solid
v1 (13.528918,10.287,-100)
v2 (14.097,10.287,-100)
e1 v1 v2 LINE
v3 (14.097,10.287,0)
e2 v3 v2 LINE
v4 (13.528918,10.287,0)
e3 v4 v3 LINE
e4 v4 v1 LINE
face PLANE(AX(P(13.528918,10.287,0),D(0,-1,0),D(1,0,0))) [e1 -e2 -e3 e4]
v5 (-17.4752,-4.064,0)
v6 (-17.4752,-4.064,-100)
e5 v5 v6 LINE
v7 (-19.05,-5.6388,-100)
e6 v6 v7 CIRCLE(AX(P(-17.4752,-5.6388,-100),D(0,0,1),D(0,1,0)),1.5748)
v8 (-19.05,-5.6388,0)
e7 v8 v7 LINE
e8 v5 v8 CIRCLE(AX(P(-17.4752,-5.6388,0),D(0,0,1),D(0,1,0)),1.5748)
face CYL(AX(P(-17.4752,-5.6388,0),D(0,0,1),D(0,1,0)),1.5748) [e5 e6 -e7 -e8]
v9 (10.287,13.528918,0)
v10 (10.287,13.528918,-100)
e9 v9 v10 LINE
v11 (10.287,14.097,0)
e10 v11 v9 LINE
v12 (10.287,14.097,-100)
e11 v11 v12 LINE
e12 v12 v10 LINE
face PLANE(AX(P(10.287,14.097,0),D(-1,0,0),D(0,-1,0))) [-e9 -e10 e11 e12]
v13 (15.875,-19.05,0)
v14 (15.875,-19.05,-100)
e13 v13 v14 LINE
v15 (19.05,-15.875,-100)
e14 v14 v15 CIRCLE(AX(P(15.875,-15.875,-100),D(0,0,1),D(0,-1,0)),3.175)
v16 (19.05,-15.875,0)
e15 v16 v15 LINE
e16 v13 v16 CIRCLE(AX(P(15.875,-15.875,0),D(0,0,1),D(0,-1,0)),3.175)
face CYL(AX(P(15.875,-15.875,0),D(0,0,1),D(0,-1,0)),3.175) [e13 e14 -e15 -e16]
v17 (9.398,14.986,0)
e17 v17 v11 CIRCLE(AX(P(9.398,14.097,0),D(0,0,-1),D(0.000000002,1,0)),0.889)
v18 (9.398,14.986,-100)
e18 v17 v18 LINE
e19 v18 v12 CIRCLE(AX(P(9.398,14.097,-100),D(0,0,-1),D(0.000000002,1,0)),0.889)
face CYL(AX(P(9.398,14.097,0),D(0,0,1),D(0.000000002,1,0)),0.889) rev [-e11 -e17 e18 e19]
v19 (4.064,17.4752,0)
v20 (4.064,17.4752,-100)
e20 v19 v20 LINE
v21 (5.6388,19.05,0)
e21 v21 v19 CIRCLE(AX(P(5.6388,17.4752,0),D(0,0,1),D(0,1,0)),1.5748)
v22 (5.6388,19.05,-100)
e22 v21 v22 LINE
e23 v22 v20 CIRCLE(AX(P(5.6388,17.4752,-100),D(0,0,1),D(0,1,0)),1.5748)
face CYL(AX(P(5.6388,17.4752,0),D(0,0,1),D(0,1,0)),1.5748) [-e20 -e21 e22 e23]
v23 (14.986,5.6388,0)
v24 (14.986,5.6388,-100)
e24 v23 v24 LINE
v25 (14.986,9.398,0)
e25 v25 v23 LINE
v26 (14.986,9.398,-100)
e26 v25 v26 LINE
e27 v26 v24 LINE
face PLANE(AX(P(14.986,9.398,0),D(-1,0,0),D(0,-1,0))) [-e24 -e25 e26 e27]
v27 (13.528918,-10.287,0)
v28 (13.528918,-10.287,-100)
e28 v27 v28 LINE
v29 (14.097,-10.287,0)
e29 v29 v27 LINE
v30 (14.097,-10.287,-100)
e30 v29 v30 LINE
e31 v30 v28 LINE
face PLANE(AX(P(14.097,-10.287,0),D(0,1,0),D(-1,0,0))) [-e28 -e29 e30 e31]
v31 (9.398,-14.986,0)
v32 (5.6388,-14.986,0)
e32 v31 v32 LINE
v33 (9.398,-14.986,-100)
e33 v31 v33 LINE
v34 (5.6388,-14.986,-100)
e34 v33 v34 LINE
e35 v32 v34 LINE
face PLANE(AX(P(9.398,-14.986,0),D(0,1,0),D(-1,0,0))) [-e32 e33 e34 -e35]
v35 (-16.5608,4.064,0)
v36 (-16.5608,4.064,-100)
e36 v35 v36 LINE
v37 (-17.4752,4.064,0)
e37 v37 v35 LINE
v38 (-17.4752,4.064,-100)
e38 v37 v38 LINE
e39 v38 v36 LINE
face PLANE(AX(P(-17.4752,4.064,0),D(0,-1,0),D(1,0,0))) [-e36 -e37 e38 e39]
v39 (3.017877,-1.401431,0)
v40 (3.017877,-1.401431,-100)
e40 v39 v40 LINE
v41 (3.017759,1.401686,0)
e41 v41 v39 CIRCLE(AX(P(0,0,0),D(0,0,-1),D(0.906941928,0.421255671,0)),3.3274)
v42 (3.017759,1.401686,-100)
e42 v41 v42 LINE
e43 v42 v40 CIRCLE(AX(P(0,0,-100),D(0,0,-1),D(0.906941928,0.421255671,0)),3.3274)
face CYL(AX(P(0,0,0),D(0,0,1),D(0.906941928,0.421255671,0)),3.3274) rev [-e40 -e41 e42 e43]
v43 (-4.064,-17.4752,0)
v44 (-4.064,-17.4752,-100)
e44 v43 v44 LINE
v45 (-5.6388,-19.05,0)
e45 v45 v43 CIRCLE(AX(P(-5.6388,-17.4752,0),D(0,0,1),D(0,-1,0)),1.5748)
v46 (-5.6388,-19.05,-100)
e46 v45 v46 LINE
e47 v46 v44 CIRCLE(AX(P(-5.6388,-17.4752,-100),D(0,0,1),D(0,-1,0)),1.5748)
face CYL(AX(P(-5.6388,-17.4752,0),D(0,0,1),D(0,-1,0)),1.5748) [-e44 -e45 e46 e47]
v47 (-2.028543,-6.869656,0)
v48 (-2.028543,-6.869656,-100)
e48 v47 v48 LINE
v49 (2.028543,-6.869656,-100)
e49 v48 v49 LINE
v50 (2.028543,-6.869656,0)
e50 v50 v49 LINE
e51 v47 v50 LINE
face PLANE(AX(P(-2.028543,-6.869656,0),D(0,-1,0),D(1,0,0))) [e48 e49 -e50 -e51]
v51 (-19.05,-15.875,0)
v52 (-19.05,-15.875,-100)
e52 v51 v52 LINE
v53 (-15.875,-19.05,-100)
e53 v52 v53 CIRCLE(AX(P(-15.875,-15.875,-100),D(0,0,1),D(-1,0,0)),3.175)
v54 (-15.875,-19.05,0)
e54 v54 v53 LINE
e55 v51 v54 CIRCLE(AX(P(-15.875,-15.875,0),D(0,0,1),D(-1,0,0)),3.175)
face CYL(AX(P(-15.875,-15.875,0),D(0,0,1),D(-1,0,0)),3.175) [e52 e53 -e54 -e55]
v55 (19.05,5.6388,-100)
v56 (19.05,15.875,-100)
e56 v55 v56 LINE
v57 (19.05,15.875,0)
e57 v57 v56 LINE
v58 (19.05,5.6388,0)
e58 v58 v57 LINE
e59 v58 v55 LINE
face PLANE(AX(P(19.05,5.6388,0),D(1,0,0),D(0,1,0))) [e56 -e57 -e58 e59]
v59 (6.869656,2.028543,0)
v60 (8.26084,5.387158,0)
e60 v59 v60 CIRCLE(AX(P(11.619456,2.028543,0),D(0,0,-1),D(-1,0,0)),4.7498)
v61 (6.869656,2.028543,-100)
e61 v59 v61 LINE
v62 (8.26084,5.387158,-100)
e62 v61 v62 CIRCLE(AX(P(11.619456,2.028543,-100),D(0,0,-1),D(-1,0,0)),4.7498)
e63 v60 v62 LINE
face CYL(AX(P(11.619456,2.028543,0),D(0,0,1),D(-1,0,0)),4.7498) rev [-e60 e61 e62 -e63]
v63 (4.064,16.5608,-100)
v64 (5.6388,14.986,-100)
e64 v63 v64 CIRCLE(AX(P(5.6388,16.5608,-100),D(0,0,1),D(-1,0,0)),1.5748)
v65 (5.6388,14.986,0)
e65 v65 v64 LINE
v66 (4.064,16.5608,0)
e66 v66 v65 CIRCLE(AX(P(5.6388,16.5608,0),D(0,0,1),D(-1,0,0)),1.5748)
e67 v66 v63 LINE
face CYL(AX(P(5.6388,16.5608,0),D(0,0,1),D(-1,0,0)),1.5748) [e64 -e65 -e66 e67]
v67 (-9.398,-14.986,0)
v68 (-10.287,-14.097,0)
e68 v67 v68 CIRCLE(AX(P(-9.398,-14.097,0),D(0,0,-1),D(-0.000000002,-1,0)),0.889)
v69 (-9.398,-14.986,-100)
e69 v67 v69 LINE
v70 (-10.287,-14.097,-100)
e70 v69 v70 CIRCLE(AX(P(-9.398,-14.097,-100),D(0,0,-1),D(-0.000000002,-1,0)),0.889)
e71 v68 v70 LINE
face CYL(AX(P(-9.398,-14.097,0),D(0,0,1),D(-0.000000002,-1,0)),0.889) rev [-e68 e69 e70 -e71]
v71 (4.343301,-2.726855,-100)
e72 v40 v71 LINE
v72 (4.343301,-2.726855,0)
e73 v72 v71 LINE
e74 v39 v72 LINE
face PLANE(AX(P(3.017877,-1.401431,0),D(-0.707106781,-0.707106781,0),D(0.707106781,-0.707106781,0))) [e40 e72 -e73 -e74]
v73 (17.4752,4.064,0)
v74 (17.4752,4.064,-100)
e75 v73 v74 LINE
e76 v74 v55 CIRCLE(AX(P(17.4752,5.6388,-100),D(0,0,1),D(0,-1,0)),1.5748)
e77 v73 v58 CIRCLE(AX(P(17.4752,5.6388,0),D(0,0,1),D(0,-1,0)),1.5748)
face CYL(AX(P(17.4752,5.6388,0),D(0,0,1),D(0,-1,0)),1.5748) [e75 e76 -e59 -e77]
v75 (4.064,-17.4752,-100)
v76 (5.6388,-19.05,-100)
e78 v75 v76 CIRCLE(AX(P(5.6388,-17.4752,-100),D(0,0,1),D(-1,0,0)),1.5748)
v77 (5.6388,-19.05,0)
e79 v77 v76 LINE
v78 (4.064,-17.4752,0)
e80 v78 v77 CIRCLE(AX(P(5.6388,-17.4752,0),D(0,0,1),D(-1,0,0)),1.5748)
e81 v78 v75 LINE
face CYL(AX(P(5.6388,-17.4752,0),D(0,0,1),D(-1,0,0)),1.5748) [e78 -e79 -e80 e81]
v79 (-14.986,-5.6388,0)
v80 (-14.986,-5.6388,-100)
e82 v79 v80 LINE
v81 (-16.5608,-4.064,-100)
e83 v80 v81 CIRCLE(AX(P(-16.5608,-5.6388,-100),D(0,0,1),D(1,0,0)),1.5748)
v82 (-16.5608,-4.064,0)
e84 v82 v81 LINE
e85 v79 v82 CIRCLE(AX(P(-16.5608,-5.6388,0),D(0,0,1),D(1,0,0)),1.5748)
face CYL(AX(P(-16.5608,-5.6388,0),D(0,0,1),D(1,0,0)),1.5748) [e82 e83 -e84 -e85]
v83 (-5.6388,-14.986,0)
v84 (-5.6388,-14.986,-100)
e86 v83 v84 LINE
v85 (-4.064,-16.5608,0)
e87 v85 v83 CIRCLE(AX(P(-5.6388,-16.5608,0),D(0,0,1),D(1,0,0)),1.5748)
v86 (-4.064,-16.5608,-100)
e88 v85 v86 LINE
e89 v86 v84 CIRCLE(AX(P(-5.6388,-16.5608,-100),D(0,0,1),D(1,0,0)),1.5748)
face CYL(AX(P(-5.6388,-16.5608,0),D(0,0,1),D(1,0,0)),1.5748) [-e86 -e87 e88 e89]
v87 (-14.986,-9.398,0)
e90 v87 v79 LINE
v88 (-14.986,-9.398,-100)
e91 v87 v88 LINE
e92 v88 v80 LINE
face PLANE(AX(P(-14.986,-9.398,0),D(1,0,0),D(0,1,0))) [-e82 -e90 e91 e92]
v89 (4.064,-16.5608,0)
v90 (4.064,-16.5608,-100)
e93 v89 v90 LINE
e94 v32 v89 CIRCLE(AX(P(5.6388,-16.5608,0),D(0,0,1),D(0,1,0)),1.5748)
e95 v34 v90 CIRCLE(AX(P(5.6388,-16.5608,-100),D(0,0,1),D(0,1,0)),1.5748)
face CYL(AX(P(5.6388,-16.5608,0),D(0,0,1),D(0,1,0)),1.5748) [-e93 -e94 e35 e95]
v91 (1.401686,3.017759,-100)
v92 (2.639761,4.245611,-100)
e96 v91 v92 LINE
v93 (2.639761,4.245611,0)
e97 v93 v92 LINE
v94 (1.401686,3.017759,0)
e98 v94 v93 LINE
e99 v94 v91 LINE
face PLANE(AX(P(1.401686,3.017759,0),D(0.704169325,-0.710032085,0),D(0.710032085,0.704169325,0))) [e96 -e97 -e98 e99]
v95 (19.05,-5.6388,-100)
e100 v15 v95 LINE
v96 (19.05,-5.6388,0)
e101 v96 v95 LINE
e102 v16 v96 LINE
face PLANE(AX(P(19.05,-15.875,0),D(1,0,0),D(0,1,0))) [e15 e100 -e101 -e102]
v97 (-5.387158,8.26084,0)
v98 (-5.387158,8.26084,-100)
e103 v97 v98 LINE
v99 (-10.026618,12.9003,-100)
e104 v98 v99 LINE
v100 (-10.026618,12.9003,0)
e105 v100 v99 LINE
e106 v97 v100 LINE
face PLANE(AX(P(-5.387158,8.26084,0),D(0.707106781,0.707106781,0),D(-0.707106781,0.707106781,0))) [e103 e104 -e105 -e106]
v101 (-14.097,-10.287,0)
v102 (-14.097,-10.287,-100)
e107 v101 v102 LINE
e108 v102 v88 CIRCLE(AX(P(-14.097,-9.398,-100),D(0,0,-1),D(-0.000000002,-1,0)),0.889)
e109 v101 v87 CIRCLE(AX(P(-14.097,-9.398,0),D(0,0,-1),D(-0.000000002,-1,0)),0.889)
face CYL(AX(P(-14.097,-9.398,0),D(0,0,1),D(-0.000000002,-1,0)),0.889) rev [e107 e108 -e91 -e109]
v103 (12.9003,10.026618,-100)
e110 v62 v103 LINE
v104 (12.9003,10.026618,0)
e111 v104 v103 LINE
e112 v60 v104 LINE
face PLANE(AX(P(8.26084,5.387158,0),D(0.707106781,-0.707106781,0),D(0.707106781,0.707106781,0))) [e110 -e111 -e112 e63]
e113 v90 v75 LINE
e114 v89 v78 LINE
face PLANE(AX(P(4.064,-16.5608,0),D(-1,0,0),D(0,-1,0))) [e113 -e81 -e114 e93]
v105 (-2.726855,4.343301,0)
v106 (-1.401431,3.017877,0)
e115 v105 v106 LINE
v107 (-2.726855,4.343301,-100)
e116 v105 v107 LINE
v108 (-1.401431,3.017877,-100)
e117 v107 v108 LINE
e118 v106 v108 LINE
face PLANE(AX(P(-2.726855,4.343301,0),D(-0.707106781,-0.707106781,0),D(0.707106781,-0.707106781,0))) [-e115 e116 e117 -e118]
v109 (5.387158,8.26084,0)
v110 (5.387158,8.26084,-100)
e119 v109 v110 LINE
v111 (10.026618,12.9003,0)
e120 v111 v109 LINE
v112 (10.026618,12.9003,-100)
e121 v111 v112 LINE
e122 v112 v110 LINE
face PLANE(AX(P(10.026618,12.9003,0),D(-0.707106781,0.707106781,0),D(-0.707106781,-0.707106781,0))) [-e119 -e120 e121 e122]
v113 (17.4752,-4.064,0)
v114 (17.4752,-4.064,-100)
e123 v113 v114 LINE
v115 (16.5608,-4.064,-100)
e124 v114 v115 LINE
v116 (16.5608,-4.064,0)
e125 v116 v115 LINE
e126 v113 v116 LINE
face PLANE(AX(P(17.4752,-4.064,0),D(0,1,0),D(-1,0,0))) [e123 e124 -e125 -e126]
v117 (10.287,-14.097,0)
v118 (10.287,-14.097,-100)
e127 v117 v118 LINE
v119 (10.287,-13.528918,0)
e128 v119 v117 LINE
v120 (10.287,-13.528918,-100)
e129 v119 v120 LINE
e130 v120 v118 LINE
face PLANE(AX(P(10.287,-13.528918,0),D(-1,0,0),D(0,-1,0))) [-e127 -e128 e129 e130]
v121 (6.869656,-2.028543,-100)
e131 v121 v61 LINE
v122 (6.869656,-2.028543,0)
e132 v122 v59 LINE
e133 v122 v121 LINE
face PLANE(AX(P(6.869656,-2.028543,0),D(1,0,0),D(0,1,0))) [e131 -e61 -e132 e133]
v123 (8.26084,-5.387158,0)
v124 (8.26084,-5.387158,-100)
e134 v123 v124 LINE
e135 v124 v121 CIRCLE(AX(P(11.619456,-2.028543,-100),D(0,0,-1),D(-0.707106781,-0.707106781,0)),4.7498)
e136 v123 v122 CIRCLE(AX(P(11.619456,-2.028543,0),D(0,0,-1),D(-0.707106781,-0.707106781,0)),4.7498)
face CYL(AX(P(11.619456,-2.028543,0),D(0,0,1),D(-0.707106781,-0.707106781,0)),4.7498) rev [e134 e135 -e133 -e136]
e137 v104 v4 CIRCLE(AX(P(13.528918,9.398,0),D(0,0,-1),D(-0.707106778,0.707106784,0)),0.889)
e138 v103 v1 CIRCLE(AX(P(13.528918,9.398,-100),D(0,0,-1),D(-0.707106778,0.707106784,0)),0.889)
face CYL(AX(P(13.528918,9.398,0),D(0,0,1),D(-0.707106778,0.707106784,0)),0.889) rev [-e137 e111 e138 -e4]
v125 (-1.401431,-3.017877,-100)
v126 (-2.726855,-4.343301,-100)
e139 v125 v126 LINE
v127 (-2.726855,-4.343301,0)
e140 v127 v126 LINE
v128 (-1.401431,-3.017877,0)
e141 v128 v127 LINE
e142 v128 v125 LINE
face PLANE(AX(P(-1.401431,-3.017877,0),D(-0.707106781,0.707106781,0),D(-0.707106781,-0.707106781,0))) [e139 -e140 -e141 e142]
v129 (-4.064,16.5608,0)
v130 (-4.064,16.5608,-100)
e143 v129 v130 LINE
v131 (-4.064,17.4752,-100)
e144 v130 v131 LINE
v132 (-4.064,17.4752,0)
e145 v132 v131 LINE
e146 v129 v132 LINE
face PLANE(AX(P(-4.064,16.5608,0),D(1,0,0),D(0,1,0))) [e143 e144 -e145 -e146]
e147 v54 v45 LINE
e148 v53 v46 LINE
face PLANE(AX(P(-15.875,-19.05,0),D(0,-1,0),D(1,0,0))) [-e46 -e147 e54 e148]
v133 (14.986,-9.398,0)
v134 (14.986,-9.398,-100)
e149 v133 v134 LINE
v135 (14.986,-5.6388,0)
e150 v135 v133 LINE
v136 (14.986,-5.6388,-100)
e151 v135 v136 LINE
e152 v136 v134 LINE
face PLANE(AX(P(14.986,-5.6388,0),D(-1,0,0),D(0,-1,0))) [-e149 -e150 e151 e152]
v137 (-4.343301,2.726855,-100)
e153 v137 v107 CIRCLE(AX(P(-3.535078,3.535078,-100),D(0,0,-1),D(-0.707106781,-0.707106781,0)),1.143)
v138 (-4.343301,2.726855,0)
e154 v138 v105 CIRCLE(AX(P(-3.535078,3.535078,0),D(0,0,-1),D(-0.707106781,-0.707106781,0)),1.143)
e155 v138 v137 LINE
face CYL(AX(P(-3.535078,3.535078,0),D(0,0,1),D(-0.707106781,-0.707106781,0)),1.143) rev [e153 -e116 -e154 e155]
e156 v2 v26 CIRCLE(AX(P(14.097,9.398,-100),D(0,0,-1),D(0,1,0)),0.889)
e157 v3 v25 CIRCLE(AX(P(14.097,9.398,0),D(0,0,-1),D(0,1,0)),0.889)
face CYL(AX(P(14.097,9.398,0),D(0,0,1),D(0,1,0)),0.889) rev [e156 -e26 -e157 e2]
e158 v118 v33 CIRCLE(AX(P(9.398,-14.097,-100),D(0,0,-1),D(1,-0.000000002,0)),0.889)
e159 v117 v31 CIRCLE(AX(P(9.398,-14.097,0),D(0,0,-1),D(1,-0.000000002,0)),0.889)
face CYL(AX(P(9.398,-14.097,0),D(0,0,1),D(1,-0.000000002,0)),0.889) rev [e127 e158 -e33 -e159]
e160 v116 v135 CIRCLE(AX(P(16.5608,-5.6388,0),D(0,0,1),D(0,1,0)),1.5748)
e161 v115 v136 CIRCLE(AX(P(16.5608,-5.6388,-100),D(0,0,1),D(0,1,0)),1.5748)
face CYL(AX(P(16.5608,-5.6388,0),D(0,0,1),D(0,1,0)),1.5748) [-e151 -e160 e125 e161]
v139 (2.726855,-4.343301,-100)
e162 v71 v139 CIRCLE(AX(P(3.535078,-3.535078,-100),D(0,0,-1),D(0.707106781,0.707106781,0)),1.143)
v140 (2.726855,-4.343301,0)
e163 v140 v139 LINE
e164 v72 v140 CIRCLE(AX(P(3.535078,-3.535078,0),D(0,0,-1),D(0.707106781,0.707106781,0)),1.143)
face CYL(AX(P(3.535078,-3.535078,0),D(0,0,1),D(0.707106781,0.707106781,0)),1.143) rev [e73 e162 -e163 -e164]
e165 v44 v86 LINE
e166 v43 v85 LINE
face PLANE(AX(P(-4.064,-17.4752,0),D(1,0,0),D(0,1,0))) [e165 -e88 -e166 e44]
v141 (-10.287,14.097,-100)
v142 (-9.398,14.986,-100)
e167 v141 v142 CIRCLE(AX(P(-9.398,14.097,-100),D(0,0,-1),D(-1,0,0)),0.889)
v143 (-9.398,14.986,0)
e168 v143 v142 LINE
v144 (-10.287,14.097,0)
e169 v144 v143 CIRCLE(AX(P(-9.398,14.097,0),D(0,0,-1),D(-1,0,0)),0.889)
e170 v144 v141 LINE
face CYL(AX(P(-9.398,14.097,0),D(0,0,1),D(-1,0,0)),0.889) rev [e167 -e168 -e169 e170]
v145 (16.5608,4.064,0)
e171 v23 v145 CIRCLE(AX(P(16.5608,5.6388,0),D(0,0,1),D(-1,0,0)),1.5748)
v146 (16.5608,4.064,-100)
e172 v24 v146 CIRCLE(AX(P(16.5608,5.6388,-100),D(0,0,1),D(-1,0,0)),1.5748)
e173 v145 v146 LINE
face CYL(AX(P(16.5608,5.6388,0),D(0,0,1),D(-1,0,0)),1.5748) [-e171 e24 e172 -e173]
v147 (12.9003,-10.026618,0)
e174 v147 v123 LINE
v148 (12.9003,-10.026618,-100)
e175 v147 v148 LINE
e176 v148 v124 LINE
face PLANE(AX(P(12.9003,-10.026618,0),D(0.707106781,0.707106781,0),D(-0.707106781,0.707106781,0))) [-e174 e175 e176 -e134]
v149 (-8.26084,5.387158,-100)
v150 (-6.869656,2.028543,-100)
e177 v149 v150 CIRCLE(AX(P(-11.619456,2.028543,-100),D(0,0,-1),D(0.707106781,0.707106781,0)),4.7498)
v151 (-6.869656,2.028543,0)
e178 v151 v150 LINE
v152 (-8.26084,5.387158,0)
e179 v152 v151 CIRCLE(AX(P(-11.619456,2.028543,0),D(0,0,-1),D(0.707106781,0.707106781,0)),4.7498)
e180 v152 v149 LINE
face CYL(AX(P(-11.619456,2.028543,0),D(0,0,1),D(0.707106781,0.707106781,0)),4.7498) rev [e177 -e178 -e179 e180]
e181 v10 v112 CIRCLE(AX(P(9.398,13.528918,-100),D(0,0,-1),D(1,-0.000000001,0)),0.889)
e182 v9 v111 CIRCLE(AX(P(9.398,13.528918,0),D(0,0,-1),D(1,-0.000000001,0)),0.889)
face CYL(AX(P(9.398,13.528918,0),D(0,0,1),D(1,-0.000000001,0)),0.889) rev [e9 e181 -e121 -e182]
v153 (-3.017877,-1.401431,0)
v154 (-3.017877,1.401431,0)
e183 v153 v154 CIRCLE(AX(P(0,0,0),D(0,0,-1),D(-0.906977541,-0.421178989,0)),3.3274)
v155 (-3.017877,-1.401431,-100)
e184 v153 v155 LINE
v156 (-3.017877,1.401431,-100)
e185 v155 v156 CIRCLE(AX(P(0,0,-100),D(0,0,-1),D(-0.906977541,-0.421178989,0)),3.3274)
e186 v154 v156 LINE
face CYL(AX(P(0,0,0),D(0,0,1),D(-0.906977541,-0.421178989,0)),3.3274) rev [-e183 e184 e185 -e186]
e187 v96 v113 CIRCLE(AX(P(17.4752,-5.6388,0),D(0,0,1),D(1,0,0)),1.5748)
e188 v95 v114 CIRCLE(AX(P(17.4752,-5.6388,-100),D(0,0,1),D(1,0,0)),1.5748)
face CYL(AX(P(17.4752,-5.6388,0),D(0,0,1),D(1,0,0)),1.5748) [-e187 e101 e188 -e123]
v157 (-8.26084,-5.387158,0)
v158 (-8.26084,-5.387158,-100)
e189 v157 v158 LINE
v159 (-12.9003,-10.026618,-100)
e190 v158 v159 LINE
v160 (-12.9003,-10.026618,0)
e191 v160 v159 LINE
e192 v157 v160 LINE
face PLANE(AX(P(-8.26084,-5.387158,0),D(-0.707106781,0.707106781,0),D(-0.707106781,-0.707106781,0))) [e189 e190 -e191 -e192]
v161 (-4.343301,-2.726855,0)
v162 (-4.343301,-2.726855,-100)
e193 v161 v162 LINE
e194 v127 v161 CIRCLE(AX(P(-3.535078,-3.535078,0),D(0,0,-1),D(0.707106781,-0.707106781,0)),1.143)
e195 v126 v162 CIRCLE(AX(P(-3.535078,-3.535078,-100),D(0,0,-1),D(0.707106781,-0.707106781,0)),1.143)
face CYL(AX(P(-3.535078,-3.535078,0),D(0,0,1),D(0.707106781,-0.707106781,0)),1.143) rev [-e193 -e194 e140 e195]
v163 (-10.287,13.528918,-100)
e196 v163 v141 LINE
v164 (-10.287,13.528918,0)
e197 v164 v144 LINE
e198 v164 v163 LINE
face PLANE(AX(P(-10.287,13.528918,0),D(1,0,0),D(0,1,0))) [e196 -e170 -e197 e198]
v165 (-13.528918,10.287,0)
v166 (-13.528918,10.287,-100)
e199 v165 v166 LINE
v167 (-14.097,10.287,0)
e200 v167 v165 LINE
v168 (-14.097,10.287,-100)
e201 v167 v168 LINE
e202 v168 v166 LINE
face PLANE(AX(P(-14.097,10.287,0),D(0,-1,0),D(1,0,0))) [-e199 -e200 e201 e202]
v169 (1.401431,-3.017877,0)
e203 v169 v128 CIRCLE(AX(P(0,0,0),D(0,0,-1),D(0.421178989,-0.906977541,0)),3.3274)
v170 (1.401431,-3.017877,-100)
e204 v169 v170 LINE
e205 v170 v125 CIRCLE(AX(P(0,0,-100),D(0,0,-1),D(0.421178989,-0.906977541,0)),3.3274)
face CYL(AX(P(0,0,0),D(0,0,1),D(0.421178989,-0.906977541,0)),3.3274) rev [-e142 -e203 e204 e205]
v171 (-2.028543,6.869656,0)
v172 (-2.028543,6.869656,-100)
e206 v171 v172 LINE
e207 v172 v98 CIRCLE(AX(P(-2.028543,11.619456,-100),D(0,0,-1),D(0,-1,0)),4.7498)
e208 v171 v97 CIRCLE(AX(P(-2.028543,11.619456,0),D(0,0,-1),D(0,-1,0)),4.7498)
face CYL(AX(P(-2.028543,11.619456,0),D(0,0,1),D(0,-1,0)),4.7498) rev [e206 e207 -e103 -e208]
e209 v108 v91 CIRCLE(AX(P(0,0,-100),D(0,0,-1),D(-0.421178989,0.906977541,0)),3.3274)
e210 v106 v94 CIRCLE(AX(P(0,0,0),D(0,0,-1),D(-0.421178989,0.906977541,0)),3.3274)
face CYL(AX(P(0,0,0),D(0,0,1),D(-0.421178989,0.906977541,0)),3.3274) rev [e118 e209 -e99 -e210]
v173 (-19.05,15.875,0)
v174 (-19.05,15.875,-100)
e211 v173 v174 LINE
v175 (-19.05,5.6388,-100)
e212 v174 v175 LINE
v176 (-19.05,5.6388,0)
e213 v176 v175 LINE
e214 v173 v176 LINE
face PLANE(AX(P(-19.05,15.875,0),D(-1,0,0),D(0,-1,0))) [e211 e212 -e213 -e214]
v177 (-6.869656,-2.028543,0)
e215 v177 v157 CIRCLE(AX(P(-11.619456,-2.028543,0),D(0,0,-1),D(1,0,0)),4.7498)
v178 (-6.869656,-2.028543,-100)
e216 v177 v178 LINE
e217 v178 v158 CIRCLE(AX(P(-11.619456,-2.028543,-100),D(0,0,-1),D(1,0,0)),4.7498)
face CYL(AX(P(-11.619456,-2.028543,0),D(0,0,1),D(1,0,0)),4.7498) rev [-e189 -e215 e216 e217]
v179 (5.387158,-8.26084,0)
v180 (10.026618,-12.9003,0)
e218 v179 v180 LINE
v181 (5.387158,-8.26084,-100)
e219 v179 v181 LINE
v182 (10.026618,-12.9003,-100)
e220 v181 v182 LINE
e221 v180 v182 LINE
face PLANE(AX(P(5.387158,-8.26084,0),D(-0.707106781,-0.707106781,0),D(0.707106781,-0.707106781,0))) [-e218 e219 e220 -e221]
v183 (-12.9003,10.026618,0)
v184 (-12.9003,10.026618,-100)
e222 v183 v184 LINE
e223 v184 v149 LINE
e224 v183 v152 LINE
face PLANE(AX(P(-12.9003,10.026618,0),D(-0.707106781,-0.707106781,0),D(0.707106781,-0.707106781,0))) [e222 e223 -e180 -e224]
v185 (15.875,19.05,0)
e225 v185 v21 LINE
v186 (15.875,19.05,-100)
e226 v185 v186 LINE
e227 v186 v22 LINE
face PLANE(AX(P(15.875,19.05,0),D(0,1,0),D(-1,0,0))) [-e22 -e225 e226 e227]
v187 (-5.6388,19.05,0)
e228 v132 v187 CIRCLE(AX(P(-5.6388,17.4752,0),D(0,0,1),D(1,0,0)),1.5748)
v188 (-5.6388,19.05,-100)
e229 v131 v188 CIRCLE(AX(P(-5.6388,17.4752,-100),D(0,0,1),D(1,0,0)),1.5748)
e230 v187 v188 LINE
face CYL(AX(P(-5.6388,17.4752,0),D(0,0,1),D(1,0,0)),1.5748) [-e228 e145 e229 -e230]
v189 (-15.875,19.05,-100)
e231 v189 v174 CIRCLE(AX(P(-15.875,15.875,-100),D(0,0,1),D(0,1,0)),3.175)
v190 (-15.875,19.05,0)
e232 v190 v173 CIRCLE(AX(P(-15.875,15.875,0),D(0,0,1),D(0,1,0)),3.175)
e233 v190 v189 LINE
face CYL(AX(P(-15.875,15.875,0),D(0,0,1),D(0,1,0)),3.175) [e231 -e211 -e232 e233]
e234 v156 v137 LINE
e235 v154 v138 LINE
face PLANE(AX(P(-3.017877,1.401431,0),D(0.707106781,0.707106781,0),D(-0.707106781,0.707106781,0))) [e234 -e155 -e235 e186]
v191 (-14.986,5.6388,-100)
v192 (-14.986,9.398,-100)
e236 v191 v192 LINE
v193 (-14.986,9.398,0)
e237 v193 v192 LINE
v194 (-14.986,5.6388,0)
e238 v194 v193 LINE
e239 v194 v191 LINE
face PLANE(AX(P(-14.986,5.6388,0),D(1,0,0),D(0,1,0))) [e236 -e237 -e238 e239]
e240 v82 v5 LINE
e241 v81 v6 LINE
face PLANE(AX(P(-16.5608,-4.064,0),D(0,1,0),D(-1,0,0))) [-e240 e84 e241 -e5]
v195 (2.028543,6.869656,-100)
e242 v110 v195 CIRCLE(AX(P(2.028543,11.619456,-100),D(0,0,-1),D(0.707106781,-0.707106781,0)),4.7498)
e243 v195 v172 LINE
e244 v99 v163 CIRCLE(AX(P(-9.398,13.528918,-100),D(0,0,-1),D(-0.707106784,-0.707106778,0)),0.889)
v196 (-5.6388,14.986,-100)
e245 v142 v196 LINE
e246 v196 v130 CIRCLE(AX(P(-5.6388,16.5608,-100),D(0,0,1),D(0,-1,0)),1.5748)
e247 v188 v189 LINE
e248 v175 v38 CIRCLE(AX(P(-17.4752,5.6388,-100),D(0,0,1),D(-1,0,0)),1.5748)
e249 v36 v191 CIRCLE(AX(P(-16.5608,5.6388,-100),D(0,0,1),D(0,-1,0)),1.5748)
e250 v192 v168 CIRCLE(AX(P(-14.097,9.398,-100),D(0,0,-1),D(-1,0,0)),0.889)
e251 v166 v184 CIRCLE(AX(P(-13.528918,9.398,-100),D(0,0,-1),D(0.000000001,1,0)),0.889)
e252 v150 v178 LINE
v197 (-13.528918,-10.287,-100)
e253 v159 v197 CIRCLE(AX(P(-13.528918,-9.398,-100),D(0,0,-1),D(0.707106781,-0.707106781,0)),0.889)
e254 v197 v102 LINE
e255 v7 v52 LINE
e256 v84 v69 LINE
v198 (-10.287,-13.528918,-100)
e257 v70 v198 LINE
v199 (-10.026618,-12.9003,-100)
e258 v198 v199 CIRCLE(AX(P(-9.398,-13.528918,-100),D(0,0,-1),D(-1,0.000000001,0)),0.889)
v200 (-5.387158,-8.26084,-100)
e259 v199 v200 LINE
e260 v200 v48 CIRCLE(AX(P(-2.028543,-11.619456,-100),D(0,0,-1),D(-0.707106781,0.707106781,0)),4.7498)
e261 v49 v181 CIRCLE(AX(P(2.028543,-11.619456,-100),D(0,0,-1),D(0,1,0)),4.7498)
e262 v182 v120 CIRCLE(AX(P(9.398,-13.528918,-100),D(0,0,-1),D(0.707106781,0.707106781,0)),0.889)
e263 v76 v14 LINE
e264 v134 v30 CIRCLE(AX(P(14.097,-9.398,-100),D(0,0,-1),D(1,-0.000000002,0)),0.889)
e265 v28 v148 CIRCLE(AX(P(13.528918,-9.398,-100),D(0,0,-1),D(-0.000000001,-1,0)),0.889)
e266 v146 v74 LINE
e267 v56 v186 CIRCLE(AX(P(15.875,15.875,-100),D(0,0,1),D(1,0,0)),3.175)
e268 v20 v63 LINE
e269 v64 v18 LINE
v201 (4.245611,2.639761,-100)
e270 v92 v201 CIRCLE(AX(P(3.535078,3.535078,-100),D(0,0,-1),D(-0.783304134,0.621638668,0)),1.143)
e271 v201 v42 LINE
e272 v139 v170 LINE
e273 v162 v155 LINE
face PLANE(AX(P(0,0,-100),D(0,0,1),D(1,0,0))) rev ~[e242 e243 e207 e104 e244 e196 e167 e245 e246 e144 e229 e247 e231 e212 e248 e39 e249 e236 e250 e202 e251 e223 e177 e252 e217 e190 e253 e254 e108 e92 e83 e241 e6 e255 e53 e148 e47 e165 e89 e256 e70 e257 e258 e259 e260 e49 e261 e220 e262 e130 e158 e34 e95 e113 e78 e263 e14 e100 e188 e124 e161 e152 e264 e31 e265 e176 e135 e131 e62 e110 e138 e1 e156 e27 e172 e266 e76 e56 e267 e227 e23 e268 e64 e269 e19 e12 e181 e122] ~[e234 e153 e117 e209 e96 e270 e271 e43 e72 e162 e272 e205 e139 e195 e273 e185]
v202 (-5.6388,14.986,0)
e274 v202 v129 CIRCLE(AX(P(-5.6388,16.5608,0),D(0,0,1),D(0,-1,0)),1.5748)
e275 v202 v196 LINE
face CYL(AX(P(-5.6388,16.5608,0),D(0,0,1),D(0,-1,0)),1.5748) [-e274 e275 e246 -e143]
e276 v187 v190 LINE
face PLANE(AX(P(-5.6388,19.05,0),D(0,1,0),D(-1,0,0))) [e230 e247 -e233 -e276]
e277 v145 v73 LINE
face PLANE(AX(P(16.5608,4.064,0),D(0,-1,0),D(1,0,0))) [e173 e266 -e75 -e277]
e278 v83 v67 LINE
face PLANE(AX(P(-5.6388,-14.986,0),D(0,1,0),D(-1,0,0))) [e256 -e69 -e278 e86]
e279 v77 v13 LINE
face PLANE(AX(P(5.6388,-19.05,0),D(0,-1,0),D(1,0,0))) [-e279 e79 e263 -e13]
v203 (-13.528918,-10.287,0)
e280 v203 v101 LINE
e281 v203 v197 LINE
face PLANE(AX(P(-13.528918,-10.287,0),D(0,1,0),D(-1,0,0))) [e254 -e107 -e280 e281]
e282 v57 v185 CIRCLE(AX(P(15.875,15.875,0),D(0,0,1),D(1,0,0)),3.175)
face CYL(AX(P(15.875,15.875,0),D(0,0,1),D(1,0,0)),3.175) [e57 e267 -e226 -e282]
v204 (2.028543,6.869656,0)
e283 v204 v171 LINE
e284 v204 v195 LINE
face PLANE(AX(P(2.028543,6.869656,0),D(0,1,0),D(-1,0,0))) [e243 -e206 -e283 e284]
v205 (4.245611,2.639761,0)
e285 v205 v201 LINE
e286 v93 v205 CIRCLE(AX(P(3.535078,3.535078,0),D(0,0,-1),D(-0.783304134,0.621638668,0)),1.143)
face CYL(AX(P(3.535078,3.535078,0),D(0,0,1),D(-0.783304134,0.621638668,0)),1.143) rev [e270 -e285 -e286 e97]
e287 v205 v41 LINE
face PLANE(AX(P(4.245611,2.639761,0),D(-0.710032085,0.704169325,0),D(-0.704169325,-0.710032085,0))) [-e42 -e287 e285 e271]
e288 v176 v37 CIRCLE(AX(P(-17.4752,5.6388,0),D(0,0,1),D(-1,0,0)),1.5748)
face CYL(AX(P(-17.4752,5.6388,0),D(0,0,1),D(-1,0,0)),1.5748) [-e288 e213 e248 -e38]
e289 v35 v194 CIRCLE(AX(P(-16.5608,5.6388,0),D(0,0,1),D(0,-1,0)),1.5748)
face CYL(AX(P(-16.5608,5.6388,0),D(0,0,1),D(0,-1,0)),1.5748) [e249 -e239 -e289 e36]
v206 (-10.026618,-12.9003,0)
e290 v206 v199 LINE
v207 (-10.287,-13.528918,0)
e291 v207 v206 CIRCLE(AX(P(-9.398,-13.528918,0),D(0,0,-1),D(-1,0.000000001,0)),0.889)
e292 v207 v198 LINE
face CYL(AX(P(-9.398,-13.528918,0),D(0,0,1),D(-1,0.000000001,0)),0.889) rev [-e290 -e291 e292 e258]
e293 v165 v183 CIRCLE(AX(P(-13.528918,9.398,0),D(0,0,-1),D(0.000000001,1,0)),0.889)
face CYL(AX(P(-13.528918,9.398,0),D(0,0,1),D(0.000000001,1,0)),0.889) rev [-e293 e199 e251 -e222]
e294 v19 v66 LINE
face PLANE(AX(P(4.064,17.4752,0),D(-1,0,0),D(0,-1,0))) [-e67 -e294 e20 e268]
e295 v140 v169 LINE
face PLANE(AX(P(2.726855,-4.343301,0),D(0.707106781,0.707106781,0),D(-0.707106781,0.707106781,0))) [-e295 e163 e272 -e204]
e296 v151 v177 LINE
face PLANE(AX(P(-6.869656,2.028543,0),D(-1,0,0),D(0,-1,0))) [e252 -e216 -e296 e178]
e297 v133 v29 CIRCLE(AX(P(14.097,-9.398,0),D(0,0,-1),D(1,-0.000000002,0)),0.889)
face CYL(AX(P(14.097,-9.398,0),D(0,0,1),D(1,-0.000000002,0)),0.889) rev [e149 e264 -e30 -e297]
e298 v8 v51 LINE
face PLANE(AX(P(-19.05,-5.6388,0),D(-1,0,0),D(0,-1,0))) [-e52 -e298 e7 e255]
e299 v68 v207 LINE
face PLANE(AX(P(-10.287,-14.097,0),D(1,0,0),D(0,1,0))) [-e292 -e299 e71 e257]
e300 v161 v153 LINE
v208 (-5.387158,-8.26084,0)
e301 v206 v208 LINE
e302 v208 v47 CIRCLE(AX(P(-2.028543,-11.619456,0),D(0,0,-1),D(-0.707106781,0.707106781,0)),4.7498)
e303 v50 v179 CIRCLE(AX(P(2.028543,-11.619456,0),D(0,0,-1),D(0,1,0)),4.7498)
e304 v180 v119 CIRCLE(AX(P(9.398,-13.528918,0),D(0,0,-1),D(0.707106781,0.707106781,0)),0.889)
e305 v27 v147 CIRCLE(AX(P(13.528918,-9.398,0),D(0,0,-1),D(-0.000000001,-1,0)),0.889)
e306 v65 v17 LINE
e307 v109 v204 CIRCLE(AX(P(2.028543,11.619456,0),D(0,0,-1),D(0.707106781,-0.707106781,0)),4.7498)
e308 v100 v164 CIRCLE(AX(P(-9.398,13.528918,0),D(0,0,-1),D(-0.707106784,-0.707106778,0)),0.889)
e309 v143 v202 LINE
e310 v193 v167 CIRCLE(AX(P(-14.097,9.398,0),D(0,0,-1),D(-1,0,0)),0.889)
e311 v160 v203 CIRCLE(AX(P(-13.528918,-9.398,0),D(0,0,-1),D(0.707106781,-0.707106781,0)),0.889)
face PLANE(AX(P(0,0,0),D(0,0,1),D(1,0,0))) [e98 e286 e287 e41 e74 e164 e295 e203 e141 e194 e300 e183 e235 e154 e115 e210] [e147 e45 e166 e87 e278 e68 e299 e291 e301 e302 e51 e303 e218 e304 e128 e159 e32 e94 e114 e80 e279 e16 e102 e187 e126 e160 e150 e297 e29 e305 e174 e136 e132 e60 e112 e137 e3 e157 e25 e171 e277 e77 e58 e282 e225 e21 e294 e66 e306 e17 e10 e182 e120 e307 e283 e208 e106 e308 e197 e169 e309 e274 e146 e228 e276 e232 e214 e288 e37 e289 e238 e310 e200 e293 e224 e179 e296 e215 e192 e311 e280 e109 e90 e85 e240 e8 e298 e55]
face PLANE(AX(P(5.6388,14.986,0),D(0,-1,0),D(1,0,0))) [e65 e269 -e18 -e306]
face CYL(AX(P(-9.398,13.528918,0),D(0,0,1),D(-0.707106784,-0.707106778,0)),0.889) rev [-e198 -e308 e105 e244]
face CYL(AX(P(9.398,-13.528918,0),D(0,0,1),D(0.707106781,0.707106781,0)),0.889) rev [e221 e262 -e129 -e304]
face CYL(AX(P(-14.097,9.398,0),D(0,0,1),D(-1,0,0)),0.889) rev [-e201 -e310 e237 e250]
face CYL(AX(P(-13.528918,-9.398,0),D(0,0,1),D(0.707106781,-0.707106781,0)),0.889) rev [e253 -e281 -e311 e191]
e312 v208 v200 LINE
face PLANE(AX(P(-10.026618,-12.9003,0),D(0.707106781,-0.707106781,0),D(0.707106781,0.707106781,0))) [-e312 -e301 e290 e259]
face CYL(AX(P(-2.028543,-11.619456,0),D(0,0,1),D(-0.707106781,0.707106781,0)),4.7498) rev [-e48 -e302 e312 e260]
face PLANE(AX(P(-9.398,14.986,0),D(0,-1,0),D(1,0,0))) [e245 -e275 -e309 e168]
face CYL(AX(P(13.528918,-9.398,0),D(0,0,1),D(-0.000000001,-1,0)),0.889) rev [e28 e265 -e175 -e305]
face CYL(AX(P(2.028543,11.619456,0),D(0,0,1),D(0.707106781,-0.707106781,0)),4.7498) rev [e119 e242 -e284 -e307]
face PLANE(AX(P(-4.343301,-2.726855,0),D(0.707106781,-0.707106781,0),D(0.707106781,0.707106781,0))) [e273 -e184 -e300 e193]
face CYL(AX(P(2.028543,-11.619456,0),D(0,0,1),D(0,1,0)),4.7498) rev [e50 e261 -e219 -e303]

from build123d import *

# Parameters (mm, degrees)
EXTRUDE1_DEPTH = 100


with BuildPart() as part:
    # Sketch1 → Extrude1 (new body)
    with BuildSketch(Plane.XY):
        with BuildLine():
            Line((14.986, -5.6388), (14.986, -9.398))
            ThreePointArc((14.986, -9.398), (14.725617928, -10.026617928), (14.097, -10.287))
            Line((14.097, -10.287), (13.528917816, -10.287))
            ThreePointArc((13.528917816, -10.287), (13.188712244, -10.219328904), (12.900299887, -10.026617928))
            Line((12.900299887, -10.026617928), (8.260840349, -5.38715839))
            ThreePointArc((8.260840349, -5.38715839), (7.231213135, -3.846212368), (6.869656138, -2.028542601))
            Line((6.869656138, -2.028542601), (6.869656138, 2.028542601))
            ThreePointArc((6.869656138, 2.028542601), (7.231213135, 3.846212368), (8.260840349, 5.38715839))
            Line((8.260840349, 5.38715839), (12.900299887, 10.026617929))
            ThreePointArc((12.900299887, 10.026617929), (13.188712244, 10.219328904), (13.528917816, 10.287))
            Line((13.528917816, 10.287), (14.097, 10.287))
            ThreePointArc((14.097, 10.287), (14.725617928, 10.026617929), (14.986, 9.398))
            Line((14.986, 9.398), (14.986, 5.6388))
            ThreePointArc((14.986, 5.6388), (15.447248241, 4.525248241), (16.5608, 4.064))
            Line((16.5608, 4.064), (17.4752, 4.064))
            ThreePointArc((17.4752, 4.064), (18.588751759, 4.525248241), (19.05, 5.6388))
            Line((19.05, 5.6388), (19.05, 15.875))
            ThreePointArc((19.05, 15.875), (18.12006403, 18.12006403), (15.875, 19.05))
            Line((15.875, 19.05), (5.6388, 19.05))
            ThreePointArc((5.6388, 19.05), (4.525248241, 18.588751759), (4.064, 17.4752))
            Line((4.064, 17.4752), (4.064, 16.5608))
            ThreePointArc((4.064, 16.5608), (4.525248241, 15.447248241), (5.6388, 14.986))
            Line((5.6388, 14.986), (9.398, 14.986))
            ThreePointArc((9.398, 14.986), (10.026617928, 14.725617928), (10.287, 14.097))
            Line((10.287, 14.097), (10.287, 13.528917816))
            ThreePointArc((10.287, 13.528917816), (10.219328904, 13.188712244), (10.026617928, 12.900299887))
            Line((10.026617928, 12.900299887), (5.38715839, 8.260840349))
            ThreePointArc((5.38715839, 8.260840349), (3.846212368, 7.231213135), (2.028542601, 6.869656138))
            Line((2.028542601, 6.869656138), (-2.028542601, 6.869656138))
            ThreePointArc((-2.028542601, 6.869656138), (-3.846212368, 7.231213135), (-5.38715839, 8.260840349))
            Line((-5.38715839, 8.260840349), (-10.026617929, 12.900299887))
            ThreePointArc((-10.026617929, 12.900299887), (-10.219328904, 13.188712244), (-10.287, 13.528917816))
            Line((-10.287, 13.528917816), (-10.287, 14.097))
            ThreePointArc((-10.287, 14.097), (-10.026617929, 14.725617928), (-9.398, 14.986))
            Line((-9.398, 14.986), (-5.6388, 14.986))
            ThreePointArc((-5.6388, 14.986), (-4.525248241, 15.447248241), (-4.064, 16.5608))
            Line((-4.064, 16.5608), (-4.064, 17.4752))
            ThreePointArc((-4.064, 17.4752), (-4.525248241, 18.588751759), (-5.6388, 19.05))
            Line((-5.6388, 19.05), (-15.875, 19.05))
            ThreePointArc((-15.875, 19.05), (-18.12006403, 18.12006403), (-19.05, 15.875))
            Line((-19.05, 15.875), (-19.05, 5.6388))
            ThreePointArc((-19.05, 5.6388), (-18.588751759, 4.525248241), (-17.4752, 4.064))
            Line((-17.4752, 4.064), (-16.5608, 4.064))
            ThreePointArc((-16.5608, 4.064), (-15.447248241, 4.525248241), (-14.986, 5.6388))
            Line((-14.986, 5.6388), (-14.986, 9.398))
            ThreePointArc((-14.986, 9.398), (-14.725617929, 10.026617928), (-14.097, 10.287))
            Line((-14.097, 10.287), (-13.528917816, 10.287))
            ThreePointArc((-13.528917816, 10.287), (-13.188712244, 10.219328904), (-12.900299887, 10.026617928))
            Line((-12.900299887, 10.026617928), (-8.260840349, 5.38715839))
            ThreePointArc((-8.260840349, 5.38715839), (-7.231213135, 3.846212368), (-6.869656138, 2.028542601))
            Line((-6.869656138, 2.028542601), (-6.869656138, -2.028542601))
            ThreePointArc((-6.869656138, -2.028542601), (-7.231213135, -3.846212368), (-8.260840349, -5.38715839))
            Line((-8.260840349, -5.38715839), (-12.900299887, -10.026617928))
            ThreePointArc((-12.900299887, -10.026617928), (-13.188712244, -10.219328904), (-13.528917816, -10.287))
            Line((-13.528917816, -10.287), (-14.097, -10.287))
            ThreePointArc((-14.097, -10.287), (-14.725617928, -10.026617928), (-14.986, -9.398))
            Line((-14.986, -9.398), (-14.986, -5.6388))
            ThreePointArc((-14.986, -5.6388), (-15.447248241, -4.525248241), (-16.5608, -4.064))
            Line((-16.5608, -4.064), (-17.4752, -4.064))
            ThreePointArc((-17.4752, -4.064), (-18.588751759, -4.525248241), (-19.05, -5.6388))
            Line((-19.05, -5.6388), (-19.05, -15.875))
            ThreePointArc((-19.05, -15.875), (-18.12006403, -18.12006403), (-15.875, -19.05))
            Line((-15.875, -19.05), (-5.6388, -19.05))
            ThreePointArc((-5.6388, -19.05), (-4.525248241, -18.588751759), (-4.064, -17.4752))
            Line((-4.064, -17.4752), (-4.064, -16.5608))
            ThreePointArc((-4.064, -16.5608), (-4.525248241, -15.447248241), (-5.6388, -14.986))
            Line((-5.6388, -14.986), (-9.398, -14.986))
            ThreePointArc((-9.398, -14.986), (-10.026617928, -14.725617928), (-10.287, -14.097))
            Line((-10.287, -14.097), (-10.287, -13.528917816))
            ThreePointArc((-10.287, -13.528917816), (-10.219328904, -13.188712244), (-10.026617928, -12.900299887))
            Line((-10.026617928, -12.900299887), (-5.38715839, -8.260840349))
            ThreePointArc((-5.38715839, -8.260840349), (-3.846212368, -7.231213135), (-2.028542601, -6.869656138))
            Line((-2.028542601, -6.869656138), (2.028542601, -6.869656138))
            ThreePointArc((2.028542601, -6.869656138), (3.846212368, -7.231213135), (5.38715839, -8.260840349))
            Line((5.38715839, -8.260840349), (10.026617928, -12.900299887))
            ThreePointArc((10.026617928, -12.900299887), (10.219328904, -13.188712244), (10.287, -13.528917816))
            Line((10.287, -13.528917816), (10.287, -14.097))
            ThreePointArc((10.287, -14.097), (10.026617928, -14.725617928), (9.398, -14.986))
            Line((9.398, -14.986), (5.6388, -14.986))
            ThreePointArc((5.6388, -14.986), (4.525248241, -15.447248241), (4.064, -16.5608))
            Line((4.064, -16.5608), (4.064, -17.4752))
            ThreePointArc((4.064, -17.4752), (4.525248241, -18.588751759), (5.6388, -19.05))
            Line((5.6388, -19.05), (15.875, -19.05))
            ThreePointArc((15.875, -19.05), (18.12006403, -18.12006403), (19.05, -15.875))
            Line((19.05, -15.875), (19.05, -5.6388))
            ThreePointArc((19.05, -5.6388), (18.588751759, -4.525248241), (17.4752, -4.064))
            Line((17.4752, -4.064), (16.5608, -4.064))
            ThreePointArc((16.5608, -4.064), (15.447248241, -4.525248241), (14.986, -5.6388))
        make_face()
        with BuildLine():
            Line((4.24561082, 2.639761197), (3.01775857, 1.401686117))
            ThreePointArc((3.01775857, 1.401686117), (3.327399997, 0.000140662), (3.017877069, -1.401430967))
            Line((3.017877069, -1.401430967), (4.343300873, -2.726854771))
            ThreePointArc((4.343300873, -2.726854771), (4.343300873, -4.343300873), (2.726854771, -4.343300873))
            Line((2.726854771, -4.343300873), (1.401430967, -3.017877069))
            ThreePointArc((1.401430967, -3.017877069), (0, -3.3274), (-1.401430967, -3.017877069))
            Line((-1.401430967, -3.017877069), (-2.726854771, -4.343300873))
            ThreePointArc((-2.726854771, -4.343300873), (-4.343300873, -4.343300873), (-4.343300873, -2.726854771))
            Line((-4.343300873, -2.726854771), (-3.017877069, -1.401430967))
            ThreePointArc((-3.017877069, -1.401430967), (-3.3274, 0), (-3.017877069, 1.401430967))
            Line((-3.017877069, 1.401430967), (-4.343300873, 2.726854771))
            ThreePointArc((-4.343300873, 2.726854771), (-4.343300873, 4.343300873), (-2.726854771, 4.343300873))
            Line((-2.726854771, 4.343300873), (-1.401430967, 3.017877069))
            ThreePointArc((-1.401430967, 3.017877069), (0.000140662, 3.327399997), (1.401686117, 3.01775857))
            Line((1.401686117, 3.01775857), (2.639761197, 4.24561082))
            ThreePointArc((2.639761197, 4.24561082), (4.343300873, 4.343300873), (4.24561082, 2.639761197))
        make_face(mode=Mode.SUBTRACT)
    extrude(amount=-EXTRUDE1_DEPTH)


solid = part.part
